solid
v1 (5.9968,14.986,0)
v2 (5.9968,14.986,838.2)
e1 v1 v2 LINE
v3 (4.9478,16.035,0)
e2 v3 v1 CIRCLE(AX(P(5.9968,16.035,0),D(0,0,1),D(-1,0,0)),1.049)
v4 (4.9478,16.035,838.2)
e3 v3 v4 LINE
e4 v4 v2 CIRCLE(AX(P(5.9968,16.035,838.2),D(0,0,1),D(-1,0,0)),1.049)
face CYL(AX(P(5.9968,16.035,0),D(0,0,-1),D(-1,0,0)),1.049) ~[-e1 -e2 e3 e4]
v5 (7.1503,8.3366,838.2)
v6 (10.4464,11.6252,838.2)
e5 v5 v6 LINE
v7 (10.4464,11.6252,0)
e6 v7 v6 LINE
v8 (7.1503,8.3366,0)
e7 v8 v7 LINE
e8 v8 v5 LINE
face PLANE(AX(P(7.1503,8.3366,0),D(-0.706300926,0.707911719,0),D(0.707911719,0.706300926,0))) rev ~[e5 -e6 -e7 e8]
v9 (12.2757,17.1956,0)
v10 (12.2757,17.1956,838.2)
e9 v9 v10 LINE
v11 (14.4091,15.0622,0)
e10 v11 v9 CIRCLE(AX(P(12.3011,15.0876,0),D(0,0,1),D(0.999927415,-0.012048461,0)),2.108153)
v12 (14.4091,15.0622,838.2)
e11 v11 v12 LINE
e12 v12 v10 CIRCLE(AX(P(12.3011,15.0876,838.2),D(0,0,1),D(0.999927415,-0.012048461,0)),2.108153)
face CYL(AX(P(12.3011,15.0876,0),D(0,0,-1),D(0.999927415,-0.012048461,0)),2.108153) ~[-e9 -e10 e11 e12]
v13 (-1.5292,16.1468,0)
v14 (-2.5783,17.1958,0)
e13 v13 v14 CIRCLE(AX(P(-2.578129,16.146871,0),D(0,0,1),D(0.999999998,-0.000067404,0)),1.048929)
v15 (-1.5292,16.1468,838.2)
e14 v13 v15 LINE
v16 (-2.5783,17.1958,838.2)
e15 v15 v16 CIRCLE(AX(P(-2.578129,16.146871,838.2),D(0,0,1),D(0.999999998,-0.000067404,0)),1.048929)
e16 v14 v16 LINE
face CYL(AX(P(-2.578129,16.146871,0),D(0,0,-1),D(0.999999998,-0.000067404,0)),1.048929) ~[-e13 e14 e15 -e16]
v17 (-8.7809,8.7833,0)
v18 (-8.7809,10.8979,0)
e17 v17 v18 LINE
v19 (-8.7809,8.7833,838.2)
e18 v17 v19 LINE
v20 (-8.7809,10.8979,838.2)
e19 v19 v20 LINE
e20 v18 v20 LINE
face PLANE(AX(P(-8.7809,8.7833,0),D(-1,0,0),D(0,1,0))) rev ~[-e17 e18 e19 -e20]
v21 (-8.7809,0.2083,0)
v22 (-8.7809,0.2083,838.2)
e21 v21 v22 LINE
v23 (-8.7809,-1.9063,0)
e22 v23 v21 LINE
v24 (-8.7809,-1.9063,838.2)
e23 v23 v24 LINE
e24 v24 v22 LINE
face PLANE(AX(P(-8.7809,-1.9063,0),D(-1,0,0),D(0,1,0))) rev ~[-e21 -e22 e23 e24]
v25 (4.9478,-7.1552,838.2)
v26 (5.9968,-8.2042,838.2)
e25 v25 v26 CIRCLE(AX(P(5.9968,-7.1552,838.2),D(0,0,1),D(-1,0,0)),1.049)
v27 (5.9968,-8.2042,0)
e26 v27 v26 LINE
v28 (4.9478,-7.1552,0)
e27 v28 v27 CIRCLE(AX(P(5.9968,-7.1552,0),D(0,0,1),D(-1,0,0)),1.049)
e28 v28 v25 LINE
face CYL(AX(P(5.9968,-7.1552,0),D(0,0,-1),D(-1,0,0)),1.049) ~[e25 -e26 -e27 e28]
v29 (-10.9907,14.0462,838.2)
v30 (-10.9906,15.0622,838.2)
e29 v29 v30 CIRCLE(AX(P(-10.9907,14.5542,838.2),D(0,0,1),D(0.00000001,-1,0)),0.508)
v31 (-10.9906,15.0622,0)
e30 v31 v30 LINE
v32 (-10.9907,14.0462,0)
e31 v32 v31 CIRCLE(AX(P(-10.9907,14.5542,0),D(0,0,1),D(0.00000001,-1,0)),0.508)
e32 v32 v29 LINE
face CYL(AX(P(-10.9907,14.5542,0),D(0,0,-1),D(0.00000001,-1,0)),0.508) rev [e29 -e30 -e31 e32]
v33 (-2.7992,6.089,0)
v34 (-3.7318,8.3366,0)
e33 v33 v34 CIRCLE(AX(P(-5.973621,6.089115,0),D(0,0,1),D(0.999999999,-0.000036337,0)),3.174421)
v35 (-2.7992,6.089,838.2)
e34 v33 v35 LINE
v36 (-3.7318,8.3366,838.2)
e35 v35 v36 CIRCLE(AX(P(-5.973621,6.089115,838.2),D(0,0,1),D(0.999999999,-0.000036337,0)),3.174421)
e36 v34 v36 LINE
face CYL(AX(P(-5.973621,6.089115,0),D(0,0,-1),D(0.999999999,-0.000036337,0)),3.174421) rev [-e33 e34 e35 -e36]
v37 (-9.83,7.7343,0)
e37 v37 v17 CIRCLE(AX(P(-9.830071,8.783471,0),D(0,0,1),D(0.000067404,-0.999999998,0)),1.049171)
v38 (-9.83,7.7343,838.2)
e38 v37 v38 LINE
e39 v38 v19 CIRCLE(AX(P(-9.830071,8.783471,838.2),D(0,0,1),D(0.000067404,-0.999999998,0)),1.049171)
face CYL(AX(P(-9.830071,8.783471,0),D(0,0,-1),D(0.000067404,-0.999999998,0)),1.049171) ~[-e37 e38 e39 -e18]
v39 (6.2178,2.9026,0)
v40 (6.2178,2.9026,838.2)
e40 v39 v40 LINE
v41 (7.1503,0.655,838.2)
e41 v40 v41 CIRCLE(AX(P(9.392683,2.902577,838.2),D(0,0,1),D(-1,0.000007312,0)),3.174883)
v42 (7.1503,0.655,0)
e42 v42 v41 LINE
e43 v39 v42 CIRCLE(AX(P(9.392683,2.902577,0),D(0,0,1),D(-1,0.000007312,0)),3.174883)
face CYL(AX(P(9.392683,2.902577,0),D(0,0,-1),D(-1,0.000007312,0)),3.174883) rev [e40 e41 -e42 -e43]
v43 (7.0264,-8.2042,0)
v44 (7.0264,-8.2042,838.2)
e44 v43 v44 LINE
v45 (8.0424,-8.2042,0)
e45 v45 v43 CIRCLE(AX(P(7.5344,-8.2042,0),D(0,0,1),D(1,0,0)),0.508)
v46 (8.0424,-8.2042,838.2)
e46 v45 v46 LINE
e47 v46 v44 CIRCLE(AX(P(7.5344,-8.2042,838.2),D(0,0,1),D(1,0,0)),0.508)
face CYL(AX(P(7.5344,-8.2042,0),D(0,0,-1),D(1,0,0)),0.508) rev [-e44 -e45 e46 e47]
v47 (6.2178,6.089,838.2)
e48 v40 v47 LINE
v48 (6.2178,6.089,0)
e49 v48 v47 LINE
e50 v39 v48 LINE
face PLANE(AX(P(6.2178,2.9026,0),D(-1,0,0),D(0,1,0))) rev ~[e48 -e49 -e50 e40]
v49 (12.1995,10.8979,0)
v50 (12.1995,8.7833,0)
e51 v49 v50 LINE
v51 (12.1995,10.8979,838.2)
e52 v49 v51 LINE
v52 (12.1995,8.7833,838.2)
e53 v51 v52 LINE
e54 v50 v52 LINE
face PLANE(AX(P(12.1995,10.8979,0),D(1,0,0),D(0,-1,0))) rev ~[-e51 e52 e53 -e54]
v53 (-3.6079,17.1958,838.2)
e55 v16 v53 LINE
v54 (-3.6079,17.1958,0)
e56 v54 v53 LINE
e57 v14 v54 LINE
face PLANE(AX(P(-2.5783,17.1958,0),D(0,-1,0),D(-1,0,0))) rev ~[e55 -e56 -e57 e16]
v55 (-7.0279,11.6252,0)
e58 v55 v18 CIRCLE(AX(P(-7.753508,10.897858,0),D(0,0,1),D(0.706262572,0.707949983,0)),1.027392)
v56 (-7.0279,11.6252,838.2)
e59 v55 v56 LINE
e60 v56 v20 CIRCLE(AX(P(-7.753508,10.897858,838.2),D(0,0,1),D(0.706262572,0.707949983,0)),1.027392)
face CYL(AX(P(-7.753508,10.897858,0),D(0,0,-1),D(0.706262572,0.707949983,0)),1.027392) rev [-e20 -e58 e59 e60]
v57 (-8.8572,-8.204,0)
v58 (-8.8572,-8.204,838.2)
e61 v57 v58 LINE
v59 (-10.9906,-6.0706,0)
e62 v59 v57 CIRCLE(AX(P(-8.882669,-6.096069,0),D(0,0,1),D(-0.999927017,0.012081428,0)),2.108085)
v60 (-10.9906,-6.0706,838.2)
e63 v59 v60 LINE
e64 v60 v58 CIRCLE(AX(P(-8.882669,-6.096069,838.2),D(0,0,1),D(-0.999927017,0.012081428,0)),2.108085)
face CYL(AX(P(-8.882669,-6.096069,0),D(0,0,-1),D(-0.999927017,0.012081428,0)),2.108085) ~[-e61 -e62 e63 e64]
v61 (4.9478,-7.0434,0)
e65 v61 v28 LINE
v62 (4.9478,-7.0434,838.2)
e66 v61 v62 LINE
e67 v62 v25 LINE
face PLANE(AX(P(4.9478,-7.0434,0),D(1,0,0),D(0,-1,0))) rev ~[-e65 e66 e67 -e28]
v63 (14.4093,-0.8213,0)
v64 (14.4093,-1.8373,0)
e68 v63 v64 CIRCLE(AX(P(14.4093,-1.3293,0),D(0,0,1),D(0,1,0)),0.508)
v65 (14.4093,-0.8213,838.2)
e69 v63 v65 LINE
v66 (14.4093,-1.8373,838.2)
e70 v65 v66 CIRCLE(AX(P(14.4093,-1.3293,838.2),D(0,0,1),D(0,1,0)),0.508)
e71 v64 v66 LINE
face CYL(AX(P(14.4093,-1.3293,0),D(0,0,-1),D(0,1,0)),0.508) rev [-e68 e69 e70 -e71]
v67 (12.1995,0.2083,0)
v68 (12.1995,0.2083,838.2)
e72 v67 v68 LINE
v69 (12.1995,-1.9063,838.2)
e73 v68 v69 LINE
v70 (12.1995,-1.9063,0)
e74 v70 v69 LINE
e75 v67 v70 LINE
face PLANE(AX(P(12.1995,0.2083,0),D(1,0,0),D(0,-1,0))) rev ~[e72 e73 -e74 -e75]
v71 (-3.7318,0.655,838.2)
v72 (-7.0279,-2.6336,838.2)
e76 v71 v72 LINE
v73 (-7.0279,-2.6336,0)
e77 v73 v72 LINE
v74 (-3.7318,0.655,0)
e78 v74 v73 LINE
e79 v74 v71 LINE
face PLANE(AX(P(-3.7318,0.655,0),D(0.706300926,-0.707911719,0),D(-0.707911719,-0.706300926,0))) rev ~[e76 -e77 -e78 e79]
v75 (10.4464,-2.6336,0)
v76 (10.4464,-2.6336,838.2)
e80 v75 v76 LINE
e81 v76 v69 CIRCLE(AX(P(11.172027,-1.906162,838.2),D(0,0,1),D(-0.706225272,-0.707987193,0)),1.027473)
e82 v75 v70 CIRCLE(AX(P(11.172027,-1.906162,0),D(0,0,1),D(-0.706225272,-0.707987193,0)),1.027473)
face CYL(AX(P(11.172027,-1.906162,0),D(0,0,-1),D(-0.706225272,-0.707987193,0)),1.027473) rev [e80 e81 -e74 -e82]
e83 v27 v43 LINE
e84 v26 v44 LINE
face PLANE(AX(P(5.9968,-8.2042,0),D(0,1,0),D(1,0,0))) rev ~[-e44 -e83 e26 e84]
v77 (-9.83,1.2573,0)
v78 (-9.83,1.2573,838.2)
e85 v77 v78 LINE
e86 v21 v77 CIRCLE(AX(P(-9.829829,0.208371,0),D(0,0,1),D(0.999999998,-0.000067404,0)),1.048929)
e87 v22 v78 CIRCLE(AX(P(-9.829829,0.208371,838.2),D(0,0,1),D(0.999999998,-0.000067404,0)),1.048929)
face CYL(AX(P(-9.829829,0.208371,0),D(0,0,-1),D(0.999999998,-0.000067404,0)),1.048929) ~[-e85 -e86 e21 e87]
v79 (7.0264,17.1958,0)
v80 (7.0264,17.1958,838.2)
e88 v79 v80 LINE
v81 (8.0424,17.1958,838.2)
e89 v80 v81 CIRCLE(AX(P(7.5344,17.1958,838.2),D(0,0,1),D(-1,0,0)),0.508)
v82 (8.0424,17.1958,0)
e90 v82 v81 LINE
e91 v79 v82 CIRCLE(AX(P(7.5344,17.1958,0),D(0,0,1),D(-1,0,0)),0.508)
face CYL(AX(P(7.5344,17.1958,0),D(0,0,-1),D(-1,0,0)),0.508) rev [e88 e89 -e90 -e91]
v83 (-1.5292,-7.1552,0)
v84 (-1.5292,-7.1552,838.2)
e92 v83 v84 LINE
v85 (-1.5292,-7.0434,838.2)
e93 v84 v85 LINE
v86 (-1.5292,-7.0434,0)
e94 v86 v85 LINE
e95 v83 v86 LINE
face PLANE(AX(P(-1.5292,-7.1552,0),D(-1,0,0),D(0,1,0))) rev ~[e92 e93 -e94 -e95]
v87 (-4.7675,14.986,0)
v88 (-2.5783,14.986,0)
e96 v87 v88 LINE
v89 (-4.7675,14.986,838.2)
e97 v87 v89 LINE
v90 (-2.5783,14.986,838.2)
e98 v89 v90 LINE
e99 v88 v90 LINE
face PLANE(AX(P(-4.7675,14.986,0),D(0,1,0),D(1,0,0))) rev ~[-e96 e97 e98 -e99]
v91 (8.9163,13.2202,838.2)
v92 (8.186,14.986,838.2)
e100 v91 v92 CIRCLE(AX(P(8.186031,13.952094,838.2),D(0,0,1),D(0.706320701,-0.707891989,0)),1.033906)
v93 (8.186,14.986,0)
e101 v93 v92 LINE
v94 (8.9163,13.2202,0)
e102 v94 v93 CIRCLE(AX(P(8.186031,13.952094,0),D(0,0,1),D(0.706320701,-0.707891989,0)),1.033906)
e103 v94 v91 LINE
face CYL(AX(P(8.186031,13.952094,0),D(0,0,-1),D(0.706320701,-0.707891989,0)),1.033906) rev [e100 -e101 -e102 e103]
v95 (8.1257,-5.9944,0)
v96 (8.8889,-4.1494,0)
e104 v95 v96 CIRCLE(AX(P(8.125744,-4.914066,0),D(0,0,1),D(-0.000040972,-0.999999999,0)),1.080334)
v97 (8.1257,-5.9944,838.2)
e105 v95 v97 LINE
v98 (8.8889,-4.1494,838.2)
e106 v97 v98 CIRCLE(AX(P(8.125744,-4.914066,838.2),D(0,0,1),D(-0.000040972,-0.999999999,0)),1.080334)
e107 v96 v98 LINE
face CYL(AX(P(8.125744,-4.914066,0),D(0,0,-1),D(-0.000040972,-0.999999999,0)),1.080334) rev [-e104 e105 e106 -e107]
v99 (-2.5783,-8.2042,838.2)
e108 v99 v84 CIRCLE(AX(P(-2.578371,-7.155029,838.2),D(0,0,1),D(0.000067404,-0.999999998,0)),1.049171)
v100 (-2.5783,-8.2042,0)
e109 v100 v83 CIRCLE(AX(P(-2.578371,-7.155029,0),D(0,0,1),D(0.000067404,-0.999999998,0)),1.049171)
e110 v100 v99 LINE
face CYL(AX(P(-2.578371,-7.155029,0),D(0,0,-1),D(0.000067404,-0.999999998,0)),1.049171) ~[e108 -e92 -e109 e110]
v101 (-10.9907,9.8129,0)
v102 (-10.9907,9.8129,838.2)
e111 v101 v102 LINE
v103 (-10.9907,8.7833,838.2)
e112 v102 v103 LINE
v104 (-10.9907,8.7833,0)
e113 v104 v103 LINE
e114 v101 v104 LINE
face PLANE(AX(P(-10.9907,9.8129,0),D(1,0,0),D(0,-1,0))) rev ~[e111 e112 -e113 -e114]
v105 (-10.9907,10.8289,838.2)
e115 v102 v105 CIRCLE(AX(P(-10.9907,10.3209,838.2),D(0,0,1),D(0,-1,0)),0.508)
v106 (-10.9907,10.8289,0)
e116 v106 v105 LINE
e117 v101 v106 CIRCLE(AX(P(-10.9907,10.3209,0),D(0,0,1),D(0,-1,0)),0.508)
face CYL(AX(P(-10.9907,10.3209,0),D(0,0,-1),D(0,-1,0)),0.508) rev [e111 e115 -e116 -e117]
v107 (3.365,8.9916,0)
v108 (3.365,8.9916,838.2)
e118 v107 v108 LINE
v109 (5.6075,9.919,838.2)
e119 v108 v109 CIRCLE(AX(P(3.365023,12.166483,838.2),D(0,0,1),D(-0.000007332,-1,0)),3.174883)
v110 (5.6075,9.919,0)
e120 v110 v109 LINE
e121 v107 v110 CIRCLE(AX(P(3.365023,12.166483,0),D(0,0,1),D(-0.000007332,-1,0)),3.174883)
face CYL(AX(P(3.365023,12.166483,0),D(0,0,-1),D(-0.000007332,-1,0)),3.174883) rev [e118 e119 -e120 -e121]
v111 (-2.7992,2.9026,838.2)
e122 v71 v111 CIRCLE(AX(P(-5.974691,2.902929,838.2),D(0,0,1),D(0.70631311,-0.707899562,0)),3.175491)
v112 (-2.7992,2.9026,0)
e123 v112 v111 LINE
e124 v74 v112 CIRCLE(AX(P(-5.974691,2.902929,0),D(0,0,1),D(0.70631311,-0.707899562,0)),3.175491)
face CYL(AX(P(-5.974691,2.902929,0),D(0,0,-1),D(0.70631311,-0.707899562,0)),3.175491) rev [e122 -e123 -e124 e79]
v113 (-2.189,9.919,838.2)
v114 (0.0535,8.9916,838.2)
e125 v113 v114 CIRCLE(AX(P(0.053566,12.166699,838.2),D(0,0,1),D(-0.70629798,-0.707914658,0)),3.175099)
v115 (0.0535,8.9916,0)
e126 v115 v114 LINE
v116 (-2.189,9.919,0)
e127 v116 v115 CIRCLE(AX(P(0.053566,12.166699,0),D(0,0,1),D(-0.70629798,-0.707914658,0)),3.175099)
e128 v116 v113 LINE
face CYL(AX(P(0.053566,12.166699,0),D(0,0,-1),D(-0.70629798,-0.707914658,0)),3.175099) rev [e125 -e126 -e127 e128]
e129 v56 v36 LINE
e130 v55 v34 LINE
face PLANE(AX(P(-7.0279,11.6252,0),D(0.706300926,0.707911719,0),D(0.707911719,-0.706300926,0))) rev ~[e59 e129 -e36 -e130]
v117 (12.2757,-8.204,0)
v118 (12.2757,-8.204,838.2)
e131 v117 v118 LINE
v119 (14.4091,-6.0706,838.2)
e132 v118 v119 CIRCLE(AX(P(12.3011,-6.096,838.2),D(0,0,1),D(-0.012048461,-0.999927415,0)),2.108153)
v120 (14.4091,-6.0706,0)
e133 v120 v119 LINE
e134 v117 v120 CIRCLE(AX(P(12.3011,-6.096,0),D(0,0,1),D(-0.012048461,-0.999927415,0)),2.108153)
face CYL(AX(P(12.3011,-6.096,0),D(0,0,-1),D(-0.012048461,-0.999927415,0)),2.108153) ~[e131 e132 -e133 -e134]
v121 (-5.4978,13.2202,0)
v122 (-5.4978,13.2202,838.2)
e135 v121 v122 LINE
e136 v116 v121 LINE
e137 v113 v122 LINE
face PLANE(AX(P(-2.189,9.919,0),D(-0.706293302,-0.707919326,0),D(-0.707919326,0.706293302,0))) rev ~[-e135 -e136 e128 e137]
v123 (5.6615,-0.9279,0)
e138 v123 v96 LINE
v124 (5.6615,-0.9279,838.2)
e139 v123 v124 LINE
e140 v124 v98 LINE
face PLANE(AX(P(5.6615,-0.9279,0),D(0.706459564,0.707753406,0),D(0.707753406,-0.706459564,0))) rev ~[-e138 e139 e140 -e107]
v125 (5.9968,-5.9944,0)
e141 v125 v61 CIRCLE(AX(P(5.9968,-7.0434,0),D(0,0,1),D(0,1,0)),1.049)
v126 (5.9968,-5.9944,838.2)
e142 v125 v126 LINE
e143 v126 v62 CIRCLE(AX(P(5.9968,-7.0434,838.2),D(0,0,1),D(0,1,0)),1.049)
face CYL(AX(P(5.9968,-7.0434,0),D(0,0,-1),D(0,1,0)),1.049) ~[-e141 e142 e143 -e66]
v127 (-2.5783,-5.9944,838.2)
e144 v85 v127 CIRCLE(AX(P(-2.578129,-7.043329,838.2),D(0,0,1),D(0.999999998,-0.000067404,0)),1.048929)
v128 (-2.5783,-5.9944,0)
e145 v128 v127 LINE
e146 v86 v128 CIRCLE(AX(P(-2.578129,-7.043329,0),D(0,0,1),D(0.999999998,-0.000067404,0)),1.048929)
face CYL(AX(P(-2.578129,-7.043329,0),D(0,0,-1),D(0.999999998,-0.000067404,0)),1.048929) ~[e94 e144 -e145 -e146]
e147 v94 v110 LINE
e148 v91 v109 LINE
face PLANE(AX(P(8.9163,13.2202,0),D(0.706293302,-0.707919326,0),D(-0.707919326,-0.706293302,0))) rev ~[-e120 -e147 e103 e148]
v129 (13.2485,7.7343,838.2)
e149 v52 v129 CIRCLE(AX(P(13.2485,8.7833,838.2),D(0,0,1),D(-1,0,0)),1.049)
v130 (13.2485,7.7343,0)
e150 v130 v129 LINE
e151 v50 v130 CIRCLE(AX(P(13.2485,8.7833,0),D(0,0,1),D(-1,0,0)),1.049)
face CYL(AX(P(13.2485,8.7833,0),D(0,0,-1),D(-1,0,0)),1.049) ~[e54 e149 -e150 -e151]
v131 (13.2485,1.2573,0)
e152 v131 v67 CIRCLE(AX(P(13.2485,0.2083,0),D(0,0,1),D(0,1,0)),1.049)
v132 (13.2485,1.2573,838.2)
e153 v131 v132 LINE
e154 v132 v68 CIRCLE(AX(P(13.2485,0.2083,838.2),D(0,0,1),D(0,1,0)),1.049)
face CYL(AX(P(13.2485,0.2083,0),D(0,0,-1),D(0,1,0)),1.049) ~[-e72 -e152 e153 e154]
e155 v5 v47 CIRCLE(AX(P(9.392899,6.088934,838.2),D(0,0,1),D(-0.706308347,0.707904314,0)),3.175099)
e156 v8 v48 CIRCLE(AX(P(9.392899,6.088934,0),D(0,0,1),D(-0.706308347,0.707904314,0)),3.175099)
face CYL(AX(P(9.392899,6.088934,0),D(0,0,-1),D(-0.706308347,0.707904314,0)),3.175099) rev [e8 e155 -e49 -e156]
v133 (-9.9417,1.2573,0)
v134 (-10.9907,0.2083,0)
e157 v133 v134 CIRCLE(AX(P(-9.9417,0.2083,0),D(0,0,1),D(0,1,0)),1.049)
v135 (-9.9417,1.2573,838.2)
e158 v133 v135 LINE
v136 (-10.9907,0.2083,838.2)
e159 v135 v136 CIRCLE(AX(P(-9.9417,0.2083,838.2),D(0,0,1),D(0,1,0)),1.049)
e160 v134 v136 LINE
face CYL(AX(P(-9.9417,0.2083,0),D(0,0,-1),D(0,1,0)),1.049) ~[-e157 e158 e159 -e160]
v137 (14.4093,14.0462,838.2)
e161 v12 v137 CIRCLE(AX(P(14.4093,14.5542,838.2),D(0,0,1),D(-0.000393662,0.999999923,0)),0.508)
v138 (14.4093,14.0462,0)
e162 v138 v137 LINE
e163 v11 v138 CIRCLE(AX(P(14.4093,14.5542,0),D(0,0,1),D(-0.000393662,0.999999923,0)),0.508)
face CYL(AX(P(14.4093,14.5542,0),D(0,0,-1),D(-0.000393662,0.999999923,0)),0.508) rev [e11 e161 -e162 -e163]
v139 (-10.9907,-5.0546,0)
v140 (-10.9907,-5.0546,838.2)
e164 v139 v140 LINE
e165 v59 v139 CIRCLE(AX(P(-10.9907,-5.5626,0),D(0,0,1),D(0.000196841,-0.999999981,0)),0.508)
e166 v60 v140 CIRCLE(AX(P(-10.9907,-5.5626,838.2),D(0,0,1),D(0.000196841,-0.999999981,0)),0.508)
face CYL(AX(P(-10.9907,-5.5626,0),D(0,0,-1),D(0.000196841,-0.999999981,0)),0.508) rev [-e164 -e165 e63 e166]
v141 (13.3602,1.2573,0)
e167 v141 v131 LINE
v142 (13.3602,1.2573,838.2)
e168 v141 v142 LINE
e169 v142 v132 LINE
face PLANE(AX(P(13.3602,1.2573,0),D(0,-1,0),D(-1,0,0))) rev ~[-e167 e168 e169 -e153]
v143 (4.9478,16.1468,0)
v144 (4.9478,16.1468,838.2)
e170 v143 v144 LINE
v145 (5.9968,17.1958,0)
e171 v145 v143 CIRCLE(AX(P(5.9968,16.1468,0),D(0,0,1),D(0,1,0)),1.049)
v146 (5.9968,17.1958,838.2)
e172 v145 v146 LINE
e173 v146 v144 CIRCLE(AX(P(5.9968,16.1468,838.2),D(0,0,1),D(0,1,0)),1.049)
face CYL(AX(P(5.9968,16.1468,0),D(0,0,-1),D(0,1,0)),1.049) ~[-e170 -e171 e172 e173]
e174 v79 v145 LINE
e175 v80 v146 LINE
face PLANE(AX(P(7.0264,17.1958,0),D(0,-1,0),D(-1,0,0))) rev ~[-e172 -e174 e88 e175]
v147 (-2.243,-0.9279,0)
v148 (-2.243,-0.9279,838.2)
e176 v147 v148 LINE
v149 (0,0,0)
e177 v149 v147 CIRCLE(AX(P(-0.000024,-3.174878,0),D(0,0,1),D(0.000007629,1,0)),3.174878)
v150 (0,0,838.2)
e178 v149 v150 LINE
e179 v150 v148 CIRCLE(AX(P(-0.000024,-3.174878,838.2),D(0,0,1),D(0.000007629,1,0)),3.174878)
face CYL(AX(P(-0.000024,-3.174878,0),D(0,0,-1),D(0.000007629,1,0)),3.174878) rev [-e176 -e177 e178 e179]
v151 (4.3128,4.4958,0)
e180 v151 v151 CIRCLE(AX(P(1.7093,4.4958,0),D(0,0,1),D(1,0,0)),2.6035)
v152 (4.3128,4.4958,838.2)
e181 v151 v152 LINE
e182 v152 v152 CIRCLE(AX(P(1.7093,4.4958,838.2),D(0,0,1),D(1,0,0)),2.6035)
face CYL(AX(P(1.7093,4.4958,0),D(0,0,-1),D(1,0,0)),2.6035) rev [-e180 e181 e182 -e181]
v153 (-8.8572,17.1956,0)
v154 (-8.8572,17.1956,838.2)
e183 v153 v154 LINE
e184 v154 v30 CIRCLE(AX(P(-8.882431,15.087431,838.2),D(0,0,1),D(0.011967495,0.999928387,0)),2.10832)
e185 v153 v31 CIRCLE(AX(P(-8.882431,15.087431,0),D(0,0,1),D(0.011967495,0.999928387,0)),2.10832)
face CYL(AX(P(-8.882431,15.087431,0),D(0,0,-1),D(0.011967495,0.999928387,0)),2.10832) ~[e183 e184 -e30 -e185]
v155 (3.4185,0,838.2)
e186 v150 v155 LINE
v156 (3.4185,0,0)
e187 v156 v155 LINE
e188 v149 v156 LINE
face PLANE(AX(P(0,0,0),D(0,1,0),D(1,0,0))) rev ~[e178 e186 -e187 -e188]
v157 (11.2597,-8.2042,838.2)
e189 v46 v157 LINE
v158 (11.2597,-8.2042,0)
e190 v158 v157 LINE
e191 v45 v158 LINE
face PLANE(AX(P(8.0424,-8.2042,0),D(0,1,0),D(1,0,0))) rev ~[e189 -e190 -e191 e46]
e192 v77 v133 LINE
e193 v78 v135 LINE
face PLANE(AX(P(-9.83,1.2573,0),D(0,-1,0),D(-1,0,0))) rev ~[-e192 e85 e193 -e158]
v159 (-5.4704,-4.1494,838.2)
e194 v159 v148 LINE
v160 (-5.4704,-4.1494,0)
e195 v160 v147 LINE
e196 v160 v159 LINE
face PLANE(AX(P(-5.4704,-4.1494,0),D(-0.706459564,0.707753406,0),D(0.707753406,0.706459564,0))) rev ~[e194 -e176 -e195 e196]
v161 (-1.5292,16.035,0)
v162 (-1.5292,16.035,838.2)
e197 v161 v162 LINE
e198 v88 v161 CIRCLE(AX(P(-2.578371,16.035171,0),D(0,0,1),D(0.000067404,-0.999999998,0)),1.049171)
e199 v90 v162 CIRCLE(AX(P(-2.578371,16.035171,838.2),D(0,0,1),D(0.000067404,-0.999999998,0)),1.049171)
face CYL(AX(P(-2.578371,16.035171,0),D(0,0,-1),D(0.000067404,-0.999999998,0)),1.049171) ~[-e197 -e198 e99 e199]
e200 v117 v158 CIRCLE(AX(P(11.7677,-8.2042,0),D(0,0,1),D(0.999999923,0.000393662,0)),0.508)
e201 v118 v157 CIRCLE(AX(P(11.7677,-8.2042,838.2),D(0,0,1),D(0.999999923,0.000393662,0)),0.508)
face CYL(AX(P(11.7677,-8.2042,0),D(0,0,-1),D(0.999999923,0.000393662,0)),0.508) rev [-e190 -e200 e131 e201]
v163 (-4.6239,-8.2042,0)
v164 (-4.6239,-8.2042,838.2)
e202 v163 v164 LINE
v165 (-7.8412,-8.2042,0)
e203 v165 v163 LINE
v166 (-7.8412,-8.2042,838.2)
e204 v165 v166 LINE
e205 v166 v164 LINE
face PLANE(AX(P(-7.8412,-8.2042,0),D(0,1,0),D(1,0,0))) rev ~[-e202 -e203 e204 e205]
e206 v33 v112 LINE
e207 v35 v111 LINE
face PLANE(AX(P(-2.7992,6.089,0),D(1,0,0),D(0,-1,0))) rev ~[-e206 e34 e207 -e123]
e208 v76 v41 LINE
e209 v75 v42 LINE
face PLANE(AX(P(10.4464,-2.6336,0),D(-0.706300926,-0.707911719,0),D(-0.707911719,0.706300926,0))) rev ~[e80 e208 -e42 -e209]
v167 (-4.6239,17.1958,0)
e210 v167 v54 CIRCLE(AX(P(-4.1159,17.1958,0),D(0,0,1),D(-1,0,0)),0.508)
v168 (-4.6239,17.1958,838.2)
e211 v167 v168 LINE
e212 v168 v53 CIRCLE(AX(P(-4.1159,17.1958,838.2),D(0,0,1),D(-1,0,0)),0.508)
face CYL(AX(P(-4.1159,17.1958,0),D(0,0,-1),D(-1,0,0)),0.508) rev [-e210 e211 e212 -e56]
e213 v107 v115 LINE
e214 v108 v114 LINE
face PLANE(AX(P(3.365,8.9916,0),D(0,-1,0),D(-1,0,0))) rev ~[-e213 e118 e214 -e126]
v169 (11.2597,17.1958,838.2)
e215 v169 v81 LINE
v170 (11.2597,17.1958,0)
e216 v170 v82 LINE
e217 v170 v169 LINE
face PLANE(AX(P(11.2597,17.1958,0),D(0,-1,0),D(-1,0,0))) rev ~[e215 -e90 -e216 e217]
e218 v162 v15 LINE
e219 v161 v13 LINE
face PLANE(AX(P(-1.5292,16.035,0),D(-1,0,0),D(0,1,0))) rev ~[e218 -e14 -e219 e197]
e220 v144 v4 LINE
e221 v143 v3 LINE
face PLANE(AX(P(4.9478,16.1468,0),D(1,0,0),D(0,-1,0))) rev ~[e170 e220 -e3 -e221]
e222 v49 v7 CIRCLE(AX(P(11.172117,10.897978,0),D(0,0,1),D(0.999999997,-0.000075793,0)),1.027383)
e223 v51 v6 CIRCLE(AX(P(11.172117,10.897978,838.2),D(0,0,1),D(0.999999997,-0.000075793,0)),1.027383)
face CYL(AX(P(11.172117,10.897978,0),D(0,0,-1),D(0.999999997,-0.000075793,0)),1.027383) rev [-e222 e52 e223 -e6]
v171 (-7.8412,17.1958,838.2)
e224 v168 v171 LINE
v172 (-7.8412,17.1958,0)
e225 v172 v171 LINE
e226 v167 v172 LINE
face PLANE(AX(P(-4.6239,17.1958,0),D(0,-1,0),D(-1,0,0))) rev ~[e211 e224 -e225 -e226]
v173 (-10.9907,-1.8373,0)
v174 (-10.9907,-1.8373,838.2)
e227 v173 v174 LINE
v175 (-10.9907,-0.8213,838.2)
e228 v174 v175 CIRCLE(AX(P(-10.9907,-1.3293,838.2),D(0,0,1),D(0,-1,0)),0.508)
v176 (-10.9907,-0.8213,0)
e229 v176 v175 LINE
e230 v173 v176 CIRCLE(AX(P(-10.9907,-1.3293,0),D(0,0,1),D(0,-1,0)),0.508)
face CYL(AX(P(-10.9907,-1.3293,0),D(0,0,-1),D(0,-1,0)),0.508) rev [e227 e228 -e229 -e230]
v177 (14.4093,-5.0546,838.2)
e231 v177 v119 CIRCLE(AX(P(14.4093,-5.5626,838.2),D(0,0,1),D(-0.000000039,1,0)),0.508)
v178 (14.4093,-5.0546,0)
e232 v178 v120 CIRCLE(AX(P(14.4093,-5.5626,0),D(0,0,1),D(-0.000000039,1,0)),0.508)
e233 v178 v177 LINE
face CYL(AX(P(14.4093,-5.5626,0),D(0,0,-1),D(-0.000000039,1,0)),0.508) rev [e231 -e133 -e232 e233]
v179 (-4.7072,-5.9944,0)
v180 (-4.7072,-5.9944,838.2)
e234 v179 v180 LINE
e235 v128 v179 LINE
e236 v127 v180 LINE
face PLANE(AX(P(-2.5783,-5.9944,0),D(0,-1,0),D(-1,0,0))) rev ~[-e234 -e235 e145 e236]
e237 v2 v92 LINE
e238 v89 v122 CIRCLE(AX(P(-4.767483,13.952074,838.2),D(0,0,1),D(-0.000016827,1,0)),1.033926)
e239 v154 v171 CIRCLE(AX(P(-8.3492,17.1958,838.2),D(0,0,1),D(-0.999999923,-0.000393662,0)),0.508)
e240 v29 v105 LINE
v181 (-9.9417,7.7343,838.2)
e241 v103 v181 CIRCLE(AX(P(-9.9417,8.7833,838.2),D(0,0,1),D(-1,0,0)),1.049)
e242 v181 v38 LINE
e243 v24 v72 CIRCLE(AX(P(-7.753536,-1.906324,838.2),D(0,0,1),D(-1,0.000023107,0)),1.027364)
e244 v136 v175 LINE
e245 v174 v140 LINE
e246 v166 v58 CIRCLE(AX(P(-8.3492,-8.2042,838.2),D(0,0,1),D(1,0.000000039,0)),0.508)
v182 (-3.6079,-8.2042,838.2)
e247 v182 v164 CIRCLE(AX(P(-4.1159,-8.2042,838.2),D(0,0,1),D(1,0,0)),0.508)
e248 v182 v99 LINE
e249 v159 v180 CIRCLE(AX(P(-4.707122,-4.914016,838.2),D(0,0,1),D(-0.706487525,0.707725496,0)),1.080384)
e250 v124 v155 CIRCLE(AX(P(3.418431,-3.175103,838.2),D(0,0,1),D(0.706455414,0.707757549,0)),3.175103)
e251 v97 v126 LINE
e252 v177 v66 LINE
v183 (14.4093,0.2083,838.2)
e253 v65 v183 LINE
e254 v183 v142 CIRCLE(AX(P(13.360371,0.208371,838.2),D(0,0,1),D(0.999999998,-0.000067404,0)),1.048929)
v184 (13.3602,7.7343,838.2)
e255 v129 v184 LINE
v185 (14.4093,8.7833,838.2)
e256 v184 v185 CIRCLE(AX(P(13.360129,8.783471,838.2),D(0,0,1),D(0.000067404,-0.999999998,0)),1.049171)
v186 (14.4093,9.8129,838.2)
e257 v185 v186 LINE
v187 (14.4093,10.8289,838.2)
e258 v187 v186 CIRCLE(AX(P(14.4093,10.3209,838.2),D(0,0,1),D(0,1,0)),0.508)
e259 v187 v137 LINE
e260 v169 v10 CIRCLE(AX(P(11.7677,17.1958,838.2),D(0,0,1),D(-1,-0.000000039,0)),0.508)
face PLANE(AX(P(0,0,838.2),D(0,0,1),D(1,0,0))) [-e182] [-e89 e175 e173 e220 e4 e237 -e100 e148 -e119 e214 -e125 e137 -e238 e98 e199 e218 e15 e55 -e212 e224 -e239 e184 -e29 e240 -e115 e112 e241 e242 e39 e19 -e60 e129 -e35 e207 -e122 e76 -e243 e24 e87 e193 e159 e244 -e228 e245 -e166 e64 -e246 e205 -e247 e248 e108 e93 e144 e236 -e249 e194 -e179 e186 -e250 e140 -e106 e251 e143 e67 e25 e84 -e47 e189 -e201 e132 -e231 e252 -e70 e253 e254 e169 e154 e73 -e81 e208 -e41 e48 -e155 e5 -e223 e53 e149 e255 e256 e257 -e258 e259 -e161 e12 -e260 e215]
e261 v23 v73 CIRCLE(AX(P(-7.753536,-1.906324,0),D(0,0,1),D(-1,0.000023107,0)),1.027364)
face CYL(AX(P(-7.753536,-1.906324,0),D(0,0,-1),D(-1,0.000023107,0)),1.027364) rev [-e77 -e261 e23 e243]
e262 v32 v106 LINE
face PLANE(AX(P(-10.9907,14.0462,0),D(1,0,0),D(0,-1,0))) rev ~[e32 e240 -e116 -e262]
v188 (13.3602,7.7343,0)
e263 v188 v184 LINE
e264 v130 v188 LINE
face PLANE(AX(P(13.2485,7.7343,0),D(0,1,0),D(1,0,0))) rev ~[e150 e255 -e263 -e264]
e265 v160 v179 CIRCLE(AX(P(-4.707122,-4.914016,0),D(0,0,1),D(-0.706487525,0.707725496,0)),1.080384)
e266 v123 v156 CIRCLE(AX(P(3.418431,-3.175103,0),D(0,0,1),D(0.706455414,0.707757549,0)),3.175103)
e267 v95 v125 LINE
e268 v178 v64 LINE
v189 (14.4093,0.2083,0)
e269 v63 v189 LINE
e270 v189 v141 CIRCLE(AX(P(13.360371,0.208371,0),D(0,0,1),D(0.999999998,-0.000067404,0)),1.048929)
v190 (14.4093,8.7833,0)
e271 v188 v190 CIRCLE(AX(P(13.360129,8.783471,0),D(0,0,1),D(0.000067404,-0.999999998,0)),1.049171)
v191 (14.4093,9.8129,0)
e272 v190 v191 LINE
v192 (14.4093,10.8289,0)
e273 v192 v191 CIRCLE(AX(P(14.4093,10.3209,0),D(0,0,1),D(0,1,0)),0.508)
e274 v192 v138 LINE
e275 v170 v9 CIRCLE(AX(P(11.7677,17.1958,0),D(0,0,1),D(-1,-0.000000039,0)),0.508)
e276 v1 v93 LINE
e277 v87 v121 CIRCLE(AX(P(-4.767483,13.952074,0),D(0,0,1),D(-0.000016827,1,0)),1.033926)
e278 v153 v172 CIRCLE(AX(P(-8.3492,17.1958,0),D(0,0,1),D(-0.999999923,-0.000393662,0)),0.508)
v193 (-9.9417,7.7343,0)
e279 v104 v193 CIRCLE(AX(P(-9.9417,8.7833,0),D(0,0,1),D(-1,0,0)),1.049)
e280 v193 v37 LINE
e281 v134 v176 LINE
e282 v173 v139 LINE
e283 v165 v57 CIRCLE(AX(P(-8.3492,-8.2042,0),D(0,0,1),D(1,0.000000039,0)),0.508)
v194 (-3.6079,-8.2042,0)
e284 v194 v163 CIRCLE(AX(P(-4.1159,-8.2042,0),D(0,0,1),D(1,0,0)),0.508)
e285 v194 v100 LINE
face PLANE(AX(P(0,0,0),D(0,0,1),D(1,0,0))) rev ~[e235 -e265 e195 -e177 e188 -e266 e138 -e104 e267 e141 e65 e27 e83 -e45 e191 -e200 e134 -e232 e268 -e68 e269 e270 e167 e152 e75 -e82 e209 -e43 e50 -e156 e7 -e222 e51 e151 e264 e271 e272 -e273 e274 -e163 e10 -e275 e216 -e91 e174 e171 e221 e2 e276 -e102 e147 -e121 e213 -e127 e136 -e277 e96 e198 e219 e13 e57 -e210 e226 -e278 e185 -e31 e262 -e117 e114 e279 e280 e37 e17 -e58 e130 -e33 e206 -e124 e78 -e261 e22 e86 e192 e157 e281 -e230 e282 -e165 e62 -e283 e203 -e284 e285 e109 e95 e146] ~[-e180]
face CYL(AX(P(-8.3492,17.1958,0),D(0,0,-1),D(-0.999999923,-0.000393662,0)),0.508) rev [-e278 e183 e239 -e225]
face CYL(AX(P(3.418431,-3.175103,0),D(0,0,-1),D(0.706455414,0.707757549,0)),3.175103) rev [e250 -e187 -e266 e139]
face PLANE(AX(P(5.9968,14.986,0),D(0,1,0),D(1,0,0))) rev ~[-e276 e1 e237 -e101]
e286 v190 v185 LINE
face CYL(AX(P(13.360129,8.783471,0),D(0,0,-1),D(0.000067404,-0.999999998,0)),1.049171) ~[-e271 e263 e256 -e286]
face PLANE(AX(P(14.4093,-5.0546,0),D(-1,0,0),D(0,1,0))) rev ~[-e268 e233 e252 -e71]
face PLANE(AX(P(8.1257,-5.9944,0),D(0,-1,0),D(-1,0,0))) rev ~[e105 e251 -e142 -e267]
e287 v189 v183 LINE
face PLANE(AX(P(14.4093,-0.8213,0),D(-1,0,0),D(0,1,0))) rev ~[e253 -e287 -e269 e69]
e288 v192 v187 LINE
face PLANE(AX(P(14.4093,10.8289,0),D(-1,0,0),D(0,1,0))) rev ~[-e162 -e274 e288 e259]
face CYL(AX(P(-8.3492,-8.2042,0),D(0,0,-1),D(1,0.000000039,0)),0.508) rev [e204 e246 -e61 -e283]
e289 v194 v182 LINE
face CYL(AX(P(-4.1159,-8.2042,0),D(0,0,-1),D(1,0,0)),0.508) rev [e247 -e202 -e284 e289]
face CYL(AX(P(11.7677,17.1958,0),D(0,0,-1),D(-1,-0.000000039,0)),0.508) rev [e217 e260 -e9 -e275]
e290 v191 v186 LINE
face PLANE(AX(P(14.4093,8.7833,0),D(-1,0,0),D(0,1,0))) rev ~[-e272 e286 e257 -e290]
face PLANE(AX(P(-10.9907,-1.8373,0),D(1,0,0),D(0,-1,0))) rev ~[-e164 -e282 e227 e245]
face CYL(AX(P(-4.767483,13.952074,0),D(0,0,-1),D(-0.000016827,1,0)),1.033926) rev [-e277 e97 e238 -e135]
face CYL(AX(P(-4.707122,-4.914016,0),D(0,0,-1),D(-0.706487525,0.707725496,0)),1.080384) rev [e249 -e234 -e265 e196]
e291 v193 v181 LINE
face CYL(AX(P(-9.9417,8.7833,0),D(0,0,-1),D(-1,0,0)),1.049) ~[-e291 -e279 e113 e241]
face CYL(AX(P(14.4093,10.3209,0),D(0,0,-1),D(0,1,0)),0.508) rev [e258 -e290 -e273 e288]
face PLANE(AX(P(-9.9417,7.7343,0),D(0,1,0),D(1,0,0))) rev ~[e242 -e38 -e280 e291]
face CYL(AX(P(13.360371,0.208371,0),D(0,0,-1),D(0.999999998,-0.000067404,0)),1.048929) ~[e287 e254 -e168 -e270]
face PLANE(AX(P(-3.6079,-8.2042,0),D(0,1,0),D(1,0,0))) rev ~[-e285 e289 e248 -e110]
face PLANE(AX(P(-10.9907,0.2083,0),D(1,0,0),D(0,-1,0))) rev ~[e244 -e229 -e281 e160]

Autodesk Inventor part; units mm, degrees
ref_plane "YZ Plane" through (0, 0, 0) normal (1, 0, 0) x (0, 1, 0)
ref_plane "XZ Plane" through (0, 0, 0) normal (0, 1, 0) x (-1, 0, 0)
ref_plane "XY Plane" through (0, 0, 0) normal (0, 0, 1) x (1, 0, 0)
sketch "Sketch1" plane through (0, 0, 0) normal (0, 0, 1) x (1, 0, 0)
  arc A0 (-5.4704, -4.1494) -> (-4.7072, -5.9944) centre (-4.7072, -4.914) ccw
  line L0 (-5.4704, -4.1494) -> (-2.243, -0.9279)
  arc A1 (0, 0) -> (-2.243, -0.9279) centre (0, -3.175) ccw
  line L1 (0, 0) -> (3.4185, 0)
  arc A2 (5.6615, -0.9279) -> (3.4185, 0) centre (3.4185, -3.175) ccw
  line L2 (5.6615, -0.9279) -> (8.8889, -4.1494)
  arc A3 (8.1257, -5.9944) -> (8.8889, -4.1494) centre (8.1257, -4.914) ccw
  line L3 (8.1257, -5.9944) -> (5.9968, -5.9944)
  arc A4 (5.9968, -5.9944) -> (4.9478, -7.0434) centre (5.9968, -7.0434) ccw
  line L4 (4.9478, -7.0434) -> (4.9478, -7.1552)
  arc A5 (4.9478, -7.1552) -> (5.9968, -8.2042) centre (5.9968, -7.1552) ccw
  line L5 (5.9968, -8.2042) -> (7.0264, -8.2042)
  arc A6 (8.0424, -8.2042) -> (7.0264, -8.2042) centre (7.5344, -8.2042) ccw
  line L6 (8.0424, -8.2042) -> (11.2597, -8.2042)
  arc A7 (12.2757, -8.204) -> (11.2597, -8.2042) centre (11.7677, -8.2042) ccw
  arc A8 (12.2757, -8.204) -> (14.4091, -6.0706) centre (12.3011, -6.096) ccw
  arc A9 (14.4093, -5.0546) -> (14.4091, -6.0706) centre (14.4093, -5.5626) ccw
  line L7 (14.4093, -5.0546) -> (14.4093, -1.8373)
  arc A10 (14.4093, -0.8213) -> (14.4093, -1.8373) centre (14.4093, -1.3293) ccw
  line L8 (14.4093, -0.8213) -> (14.4093, 0.2083)
  arc A11 (14.4093, 0.2083) -> (13.3602, 1.2573) centre (13.3602, 0.2083) ccw
  line L9 (13.3602, 1.2573) -> (13.2485, 1.2573)
  arc A12 (13.2485, 1.2573) -> (12.1995, 0.2083) centre (13.2485, 0.2083) ccw
  line L10 (12.1995, 0.2083) -> (12.1995, -1.9063)
  arc A13 (10.4464, -2.6336) -> (12.1995, -1.9063) centre (11.172, -1.9063) ccw
  line L11 (10.4464, -2.6336) -> (7.1503, 0.655)
  arc A14 (6.2178, 2.9026) -> (7.1503, 0.655) centre (9.3928, 2.9026) ccw
  line L12 (6.2178, 2.9026) -> (6.2178, 6.089)
  arc A15 (7.1503, 8.3366) -> (6.2178, 6.089) centre (9.3928, 6.089) ccw
  line L13 (7.1503, 8.3366) -> (10.4464, 11.6252)
  arc A16 (12.1995, 10.8979) -> (10.4464, 11.6252) centre (11.172, 10.8979) ccw
  line L14 (12.1995, 10.8979) -> (12.1995, 8.7833)
  arc A17 (12.1995, 8.7833) -> (13.2485, 7.7343) centre (13.2485, 8.7833) ccw
  line L15 (13.2485, 7.7343) -> (13.3602, 7.7343)
  arc A18 (13.3602, 7.7343) -> (14.4093, 8.7833) centre (13.3602, 8.7833) ccw
  line L16 (14.4093, 8.7833) -> (14.4093, 9.8129)
  arc A19 (14.4093, 10.8289) -> (14.4093, 9.8129) centre (14.4093, 10.3209) ccw
  line L17 (14.4093, 10.8289) -> (14.4093, 14.0462)
  arc A20 (14.4091, 15.0622) -> (14.4093, 14.0462) centre (14.4093, 14.5542) ccw
  arc A21 (14.4091, 15.0622) -> (12.2757, 17.1956) centre (12.3011, 15.0876) ccw
  arc A22 (11.2597, 17.1958) -> (12.2757, 17.1956) centre (11.7677, 17.1958) ccw
  line L18 (11.2597, 17.1958) -> (8.0424, 17.1958)
  arc A23 (7.0264, 17.1958) -> (8.0424, 17.1958) centre (7.5344, 17.1958) ccw
  line L19 (7.0264, 17.1958) -> (5.9968, 17.1958)
  arc A24 (5.9968, 17.1958) -> (4.9478, 16.1468) centre (5.9968, 16.1468) ccw
  line L20 (4.9478, 16.1468) -> (4.9478, 16.035)
  arc A25 (4.9478, 16.035) -> (5.9968, 14.986) centre (5.9968, 16.035) ccw
  line L21 (5.9968, 14.986) -> (8.186, 14.986)
  arc A26 (8.9163, 13.2202) -> (8.186, 14.986) centre (8.186, 13.9521) ccw
  line L22 (8.9163, 13.2202) -> (5.6075, 9.919)
  arc A27 (3.365, 8.9916) -> (5.6075, 9.919) centre (3.365, 12.1666) ccw
  line L23 (3.365, 8.9916) -> (0.0535, 8.9916)
  arc A28 (-2.189, 9.919) -> (0.0535, 8.9916) centre (0.0535, 12.1666) ccw
  line L24 (-2.189, 9.919) -> (-5.4978, 13.2202)
  arc A29 (-4.7675, 14.986) -> (-5.4978, 13.2202) centre (-4.7675, 13.9521) ccw
  line L25 (-4.7675, 14.986) -> (-2.5783, 14.986)
  arc A30 (-2.5783, 14.986) -> (-1.5292, 16.035) centre (-2.5783, 16.035) ccw
  line L26 (-1.5292, 16.035) -> (-1.5292, 16.1468)
  arc A31 (-1.5292, 16.1468) -> (-2.5783, 17.1958) centre (-2.5783, 16.1468) ccw
  line L27 (-2.5783, 17.1958) -> (-3.6079, 17.1958)
  arc A32 (-4.6239, 17.1958) -> (-3.6079, 17.1958) centre (-4.1159, 17.1958) ccw
  line L28 (-4.6239, 17.1958) -> (-7.8412, 17.1958)
  arc A33 (-8.8572, 17.1956) -> (-7.8412, 17.1958) centre (-8.3492, 17.1958) ccw
  arc A34 (-8.8572, 17.1956) -> (-10.9906, 15.0622) centre (-8.8825, 15.0876) ccw
  arc A35 (-10.9907, 14.0462) -> (-10.9906, 15.0622) centre (-10.9907, 14.5542) ccw
  line L29 (-10.9907, 14.0462) -> (-10.9907, 10.8289)
  arc A36 (-10.9907, 9.8129) -> (-10.9907, 10.8289) centre (-10.9907, 10.3209) ccw
  line L30 (-10.9907, 9.8129) -> (-10.9907, 8.7833)
  arc A37 (-10.9907, 8.7833) -> (-9.9417, 7.7343) centre (-9.9417, 8.7833) ccw
  line L31 (-9.9417, 7.7343) -> (-9.83, 7.7343)
  arc A38 (-9.83, 7.7343) -> (-8.7809, 8.7833) centre (-9.83, 8.7833) ccw
  line L32 (-8.7809, 8.7833) -> (-8.7809, 10.8979)
  arc A39 (-7.0279, 11.6252) -> (-8.7809, 10.8979) centre (-7.7535, 10.8979) ccw
  line L33 (-7.0279, 11.6252) -> (-3.7318, 8.3366)
  arc A40 (-2.7992, 6.089) -> (-3.7318, 8.3366) centre (-5.9742, 6.089) ccw
  line L34 (-2.7992, 6.089) -> (-2.7992, 2.9026)
  arc A41 (-3.7318, 0.655) -> (-2.7992, 2.9026) centre (-5.9742, 2.9026) ccw
  line L35 (-3.7318, 0.655) -> (-7.0279, -2.6336)
  arc A42 (-8.7809, -1.9063) -> (-7.0279, -2.6336) centre (-7.7535, -1.9063) ccw
  line L36 (-8.7809, -1.9063) -> (-8.7809, 0.2083)
  arc A43 (-8.7809, 0.2083) -> (-9.83, 1.2573) centre (-9.83, 0.2083) ccw
  line L37 (-9.83, 1.2573) -> (-9.9417, 1.2573)
  arc A44 (-9.9417, 1.2573) -> (-10.9907, 0.2083) centre (-9.9417, 0.2083) ccw
  line L38 (-10.9907, 0.2083) -> (-10.9907, -0.8213)
  arc A45 (-10.9907, -1.8373) -> (-10.9907, -0.8213) centre (-10.9907, -1.3293) ccw
  line L39 (-10.9907, -1.8373) -> (-10.9907, -5.0546)
  arc A46 (-10.9906, -6.0706) -> (-10.9907, -5.0546) centre (-10.9907, -5.5626) ccw
  arc A47 (-10.9906, -6.0706) -> (-8.8572, -8.204) centre (-8.8825, -6.096) ccw
  arc A48 (-7.8412, -8.2042) -> (-8.8572, -8.204) centre (-8.3492, -8.2042) ccw
  line L40 (-7.8412, -8.2042) -> (-4.6239, -8.2042)
  arc A49 (-3.6079, -8.2042) -> (-4.6239, -8.2042) centre (-4.1159, -8.2042) ccw
  line L41 (-3.6079, -8.2042) -> (-2.5783, -8.2042)
  arc A50 (-2.5783, -8.2042) -> (-1.5292, -7.1552) centre (-2.5783, -7.1552) ccw
  line L42 (-1.5292, -7.1552) -> (-1.5292, -7.0434)
  arc A51 (-1.5292, -7.0434) -> (-2.5783, -5.9944) centre (-2.5783, -7.0434) ccw
  line L43 (-2.5783, -5.9944) -> (-4.7072, -5.9944)
  circle A52 centre (1.7093, 4.4958) radius 2.6035
extrude "Extrusion1" add sketch "Sketch1" along normal blind 838.2
properties part number "33 in 1x1 T slot" material "Steel, Alloy"
